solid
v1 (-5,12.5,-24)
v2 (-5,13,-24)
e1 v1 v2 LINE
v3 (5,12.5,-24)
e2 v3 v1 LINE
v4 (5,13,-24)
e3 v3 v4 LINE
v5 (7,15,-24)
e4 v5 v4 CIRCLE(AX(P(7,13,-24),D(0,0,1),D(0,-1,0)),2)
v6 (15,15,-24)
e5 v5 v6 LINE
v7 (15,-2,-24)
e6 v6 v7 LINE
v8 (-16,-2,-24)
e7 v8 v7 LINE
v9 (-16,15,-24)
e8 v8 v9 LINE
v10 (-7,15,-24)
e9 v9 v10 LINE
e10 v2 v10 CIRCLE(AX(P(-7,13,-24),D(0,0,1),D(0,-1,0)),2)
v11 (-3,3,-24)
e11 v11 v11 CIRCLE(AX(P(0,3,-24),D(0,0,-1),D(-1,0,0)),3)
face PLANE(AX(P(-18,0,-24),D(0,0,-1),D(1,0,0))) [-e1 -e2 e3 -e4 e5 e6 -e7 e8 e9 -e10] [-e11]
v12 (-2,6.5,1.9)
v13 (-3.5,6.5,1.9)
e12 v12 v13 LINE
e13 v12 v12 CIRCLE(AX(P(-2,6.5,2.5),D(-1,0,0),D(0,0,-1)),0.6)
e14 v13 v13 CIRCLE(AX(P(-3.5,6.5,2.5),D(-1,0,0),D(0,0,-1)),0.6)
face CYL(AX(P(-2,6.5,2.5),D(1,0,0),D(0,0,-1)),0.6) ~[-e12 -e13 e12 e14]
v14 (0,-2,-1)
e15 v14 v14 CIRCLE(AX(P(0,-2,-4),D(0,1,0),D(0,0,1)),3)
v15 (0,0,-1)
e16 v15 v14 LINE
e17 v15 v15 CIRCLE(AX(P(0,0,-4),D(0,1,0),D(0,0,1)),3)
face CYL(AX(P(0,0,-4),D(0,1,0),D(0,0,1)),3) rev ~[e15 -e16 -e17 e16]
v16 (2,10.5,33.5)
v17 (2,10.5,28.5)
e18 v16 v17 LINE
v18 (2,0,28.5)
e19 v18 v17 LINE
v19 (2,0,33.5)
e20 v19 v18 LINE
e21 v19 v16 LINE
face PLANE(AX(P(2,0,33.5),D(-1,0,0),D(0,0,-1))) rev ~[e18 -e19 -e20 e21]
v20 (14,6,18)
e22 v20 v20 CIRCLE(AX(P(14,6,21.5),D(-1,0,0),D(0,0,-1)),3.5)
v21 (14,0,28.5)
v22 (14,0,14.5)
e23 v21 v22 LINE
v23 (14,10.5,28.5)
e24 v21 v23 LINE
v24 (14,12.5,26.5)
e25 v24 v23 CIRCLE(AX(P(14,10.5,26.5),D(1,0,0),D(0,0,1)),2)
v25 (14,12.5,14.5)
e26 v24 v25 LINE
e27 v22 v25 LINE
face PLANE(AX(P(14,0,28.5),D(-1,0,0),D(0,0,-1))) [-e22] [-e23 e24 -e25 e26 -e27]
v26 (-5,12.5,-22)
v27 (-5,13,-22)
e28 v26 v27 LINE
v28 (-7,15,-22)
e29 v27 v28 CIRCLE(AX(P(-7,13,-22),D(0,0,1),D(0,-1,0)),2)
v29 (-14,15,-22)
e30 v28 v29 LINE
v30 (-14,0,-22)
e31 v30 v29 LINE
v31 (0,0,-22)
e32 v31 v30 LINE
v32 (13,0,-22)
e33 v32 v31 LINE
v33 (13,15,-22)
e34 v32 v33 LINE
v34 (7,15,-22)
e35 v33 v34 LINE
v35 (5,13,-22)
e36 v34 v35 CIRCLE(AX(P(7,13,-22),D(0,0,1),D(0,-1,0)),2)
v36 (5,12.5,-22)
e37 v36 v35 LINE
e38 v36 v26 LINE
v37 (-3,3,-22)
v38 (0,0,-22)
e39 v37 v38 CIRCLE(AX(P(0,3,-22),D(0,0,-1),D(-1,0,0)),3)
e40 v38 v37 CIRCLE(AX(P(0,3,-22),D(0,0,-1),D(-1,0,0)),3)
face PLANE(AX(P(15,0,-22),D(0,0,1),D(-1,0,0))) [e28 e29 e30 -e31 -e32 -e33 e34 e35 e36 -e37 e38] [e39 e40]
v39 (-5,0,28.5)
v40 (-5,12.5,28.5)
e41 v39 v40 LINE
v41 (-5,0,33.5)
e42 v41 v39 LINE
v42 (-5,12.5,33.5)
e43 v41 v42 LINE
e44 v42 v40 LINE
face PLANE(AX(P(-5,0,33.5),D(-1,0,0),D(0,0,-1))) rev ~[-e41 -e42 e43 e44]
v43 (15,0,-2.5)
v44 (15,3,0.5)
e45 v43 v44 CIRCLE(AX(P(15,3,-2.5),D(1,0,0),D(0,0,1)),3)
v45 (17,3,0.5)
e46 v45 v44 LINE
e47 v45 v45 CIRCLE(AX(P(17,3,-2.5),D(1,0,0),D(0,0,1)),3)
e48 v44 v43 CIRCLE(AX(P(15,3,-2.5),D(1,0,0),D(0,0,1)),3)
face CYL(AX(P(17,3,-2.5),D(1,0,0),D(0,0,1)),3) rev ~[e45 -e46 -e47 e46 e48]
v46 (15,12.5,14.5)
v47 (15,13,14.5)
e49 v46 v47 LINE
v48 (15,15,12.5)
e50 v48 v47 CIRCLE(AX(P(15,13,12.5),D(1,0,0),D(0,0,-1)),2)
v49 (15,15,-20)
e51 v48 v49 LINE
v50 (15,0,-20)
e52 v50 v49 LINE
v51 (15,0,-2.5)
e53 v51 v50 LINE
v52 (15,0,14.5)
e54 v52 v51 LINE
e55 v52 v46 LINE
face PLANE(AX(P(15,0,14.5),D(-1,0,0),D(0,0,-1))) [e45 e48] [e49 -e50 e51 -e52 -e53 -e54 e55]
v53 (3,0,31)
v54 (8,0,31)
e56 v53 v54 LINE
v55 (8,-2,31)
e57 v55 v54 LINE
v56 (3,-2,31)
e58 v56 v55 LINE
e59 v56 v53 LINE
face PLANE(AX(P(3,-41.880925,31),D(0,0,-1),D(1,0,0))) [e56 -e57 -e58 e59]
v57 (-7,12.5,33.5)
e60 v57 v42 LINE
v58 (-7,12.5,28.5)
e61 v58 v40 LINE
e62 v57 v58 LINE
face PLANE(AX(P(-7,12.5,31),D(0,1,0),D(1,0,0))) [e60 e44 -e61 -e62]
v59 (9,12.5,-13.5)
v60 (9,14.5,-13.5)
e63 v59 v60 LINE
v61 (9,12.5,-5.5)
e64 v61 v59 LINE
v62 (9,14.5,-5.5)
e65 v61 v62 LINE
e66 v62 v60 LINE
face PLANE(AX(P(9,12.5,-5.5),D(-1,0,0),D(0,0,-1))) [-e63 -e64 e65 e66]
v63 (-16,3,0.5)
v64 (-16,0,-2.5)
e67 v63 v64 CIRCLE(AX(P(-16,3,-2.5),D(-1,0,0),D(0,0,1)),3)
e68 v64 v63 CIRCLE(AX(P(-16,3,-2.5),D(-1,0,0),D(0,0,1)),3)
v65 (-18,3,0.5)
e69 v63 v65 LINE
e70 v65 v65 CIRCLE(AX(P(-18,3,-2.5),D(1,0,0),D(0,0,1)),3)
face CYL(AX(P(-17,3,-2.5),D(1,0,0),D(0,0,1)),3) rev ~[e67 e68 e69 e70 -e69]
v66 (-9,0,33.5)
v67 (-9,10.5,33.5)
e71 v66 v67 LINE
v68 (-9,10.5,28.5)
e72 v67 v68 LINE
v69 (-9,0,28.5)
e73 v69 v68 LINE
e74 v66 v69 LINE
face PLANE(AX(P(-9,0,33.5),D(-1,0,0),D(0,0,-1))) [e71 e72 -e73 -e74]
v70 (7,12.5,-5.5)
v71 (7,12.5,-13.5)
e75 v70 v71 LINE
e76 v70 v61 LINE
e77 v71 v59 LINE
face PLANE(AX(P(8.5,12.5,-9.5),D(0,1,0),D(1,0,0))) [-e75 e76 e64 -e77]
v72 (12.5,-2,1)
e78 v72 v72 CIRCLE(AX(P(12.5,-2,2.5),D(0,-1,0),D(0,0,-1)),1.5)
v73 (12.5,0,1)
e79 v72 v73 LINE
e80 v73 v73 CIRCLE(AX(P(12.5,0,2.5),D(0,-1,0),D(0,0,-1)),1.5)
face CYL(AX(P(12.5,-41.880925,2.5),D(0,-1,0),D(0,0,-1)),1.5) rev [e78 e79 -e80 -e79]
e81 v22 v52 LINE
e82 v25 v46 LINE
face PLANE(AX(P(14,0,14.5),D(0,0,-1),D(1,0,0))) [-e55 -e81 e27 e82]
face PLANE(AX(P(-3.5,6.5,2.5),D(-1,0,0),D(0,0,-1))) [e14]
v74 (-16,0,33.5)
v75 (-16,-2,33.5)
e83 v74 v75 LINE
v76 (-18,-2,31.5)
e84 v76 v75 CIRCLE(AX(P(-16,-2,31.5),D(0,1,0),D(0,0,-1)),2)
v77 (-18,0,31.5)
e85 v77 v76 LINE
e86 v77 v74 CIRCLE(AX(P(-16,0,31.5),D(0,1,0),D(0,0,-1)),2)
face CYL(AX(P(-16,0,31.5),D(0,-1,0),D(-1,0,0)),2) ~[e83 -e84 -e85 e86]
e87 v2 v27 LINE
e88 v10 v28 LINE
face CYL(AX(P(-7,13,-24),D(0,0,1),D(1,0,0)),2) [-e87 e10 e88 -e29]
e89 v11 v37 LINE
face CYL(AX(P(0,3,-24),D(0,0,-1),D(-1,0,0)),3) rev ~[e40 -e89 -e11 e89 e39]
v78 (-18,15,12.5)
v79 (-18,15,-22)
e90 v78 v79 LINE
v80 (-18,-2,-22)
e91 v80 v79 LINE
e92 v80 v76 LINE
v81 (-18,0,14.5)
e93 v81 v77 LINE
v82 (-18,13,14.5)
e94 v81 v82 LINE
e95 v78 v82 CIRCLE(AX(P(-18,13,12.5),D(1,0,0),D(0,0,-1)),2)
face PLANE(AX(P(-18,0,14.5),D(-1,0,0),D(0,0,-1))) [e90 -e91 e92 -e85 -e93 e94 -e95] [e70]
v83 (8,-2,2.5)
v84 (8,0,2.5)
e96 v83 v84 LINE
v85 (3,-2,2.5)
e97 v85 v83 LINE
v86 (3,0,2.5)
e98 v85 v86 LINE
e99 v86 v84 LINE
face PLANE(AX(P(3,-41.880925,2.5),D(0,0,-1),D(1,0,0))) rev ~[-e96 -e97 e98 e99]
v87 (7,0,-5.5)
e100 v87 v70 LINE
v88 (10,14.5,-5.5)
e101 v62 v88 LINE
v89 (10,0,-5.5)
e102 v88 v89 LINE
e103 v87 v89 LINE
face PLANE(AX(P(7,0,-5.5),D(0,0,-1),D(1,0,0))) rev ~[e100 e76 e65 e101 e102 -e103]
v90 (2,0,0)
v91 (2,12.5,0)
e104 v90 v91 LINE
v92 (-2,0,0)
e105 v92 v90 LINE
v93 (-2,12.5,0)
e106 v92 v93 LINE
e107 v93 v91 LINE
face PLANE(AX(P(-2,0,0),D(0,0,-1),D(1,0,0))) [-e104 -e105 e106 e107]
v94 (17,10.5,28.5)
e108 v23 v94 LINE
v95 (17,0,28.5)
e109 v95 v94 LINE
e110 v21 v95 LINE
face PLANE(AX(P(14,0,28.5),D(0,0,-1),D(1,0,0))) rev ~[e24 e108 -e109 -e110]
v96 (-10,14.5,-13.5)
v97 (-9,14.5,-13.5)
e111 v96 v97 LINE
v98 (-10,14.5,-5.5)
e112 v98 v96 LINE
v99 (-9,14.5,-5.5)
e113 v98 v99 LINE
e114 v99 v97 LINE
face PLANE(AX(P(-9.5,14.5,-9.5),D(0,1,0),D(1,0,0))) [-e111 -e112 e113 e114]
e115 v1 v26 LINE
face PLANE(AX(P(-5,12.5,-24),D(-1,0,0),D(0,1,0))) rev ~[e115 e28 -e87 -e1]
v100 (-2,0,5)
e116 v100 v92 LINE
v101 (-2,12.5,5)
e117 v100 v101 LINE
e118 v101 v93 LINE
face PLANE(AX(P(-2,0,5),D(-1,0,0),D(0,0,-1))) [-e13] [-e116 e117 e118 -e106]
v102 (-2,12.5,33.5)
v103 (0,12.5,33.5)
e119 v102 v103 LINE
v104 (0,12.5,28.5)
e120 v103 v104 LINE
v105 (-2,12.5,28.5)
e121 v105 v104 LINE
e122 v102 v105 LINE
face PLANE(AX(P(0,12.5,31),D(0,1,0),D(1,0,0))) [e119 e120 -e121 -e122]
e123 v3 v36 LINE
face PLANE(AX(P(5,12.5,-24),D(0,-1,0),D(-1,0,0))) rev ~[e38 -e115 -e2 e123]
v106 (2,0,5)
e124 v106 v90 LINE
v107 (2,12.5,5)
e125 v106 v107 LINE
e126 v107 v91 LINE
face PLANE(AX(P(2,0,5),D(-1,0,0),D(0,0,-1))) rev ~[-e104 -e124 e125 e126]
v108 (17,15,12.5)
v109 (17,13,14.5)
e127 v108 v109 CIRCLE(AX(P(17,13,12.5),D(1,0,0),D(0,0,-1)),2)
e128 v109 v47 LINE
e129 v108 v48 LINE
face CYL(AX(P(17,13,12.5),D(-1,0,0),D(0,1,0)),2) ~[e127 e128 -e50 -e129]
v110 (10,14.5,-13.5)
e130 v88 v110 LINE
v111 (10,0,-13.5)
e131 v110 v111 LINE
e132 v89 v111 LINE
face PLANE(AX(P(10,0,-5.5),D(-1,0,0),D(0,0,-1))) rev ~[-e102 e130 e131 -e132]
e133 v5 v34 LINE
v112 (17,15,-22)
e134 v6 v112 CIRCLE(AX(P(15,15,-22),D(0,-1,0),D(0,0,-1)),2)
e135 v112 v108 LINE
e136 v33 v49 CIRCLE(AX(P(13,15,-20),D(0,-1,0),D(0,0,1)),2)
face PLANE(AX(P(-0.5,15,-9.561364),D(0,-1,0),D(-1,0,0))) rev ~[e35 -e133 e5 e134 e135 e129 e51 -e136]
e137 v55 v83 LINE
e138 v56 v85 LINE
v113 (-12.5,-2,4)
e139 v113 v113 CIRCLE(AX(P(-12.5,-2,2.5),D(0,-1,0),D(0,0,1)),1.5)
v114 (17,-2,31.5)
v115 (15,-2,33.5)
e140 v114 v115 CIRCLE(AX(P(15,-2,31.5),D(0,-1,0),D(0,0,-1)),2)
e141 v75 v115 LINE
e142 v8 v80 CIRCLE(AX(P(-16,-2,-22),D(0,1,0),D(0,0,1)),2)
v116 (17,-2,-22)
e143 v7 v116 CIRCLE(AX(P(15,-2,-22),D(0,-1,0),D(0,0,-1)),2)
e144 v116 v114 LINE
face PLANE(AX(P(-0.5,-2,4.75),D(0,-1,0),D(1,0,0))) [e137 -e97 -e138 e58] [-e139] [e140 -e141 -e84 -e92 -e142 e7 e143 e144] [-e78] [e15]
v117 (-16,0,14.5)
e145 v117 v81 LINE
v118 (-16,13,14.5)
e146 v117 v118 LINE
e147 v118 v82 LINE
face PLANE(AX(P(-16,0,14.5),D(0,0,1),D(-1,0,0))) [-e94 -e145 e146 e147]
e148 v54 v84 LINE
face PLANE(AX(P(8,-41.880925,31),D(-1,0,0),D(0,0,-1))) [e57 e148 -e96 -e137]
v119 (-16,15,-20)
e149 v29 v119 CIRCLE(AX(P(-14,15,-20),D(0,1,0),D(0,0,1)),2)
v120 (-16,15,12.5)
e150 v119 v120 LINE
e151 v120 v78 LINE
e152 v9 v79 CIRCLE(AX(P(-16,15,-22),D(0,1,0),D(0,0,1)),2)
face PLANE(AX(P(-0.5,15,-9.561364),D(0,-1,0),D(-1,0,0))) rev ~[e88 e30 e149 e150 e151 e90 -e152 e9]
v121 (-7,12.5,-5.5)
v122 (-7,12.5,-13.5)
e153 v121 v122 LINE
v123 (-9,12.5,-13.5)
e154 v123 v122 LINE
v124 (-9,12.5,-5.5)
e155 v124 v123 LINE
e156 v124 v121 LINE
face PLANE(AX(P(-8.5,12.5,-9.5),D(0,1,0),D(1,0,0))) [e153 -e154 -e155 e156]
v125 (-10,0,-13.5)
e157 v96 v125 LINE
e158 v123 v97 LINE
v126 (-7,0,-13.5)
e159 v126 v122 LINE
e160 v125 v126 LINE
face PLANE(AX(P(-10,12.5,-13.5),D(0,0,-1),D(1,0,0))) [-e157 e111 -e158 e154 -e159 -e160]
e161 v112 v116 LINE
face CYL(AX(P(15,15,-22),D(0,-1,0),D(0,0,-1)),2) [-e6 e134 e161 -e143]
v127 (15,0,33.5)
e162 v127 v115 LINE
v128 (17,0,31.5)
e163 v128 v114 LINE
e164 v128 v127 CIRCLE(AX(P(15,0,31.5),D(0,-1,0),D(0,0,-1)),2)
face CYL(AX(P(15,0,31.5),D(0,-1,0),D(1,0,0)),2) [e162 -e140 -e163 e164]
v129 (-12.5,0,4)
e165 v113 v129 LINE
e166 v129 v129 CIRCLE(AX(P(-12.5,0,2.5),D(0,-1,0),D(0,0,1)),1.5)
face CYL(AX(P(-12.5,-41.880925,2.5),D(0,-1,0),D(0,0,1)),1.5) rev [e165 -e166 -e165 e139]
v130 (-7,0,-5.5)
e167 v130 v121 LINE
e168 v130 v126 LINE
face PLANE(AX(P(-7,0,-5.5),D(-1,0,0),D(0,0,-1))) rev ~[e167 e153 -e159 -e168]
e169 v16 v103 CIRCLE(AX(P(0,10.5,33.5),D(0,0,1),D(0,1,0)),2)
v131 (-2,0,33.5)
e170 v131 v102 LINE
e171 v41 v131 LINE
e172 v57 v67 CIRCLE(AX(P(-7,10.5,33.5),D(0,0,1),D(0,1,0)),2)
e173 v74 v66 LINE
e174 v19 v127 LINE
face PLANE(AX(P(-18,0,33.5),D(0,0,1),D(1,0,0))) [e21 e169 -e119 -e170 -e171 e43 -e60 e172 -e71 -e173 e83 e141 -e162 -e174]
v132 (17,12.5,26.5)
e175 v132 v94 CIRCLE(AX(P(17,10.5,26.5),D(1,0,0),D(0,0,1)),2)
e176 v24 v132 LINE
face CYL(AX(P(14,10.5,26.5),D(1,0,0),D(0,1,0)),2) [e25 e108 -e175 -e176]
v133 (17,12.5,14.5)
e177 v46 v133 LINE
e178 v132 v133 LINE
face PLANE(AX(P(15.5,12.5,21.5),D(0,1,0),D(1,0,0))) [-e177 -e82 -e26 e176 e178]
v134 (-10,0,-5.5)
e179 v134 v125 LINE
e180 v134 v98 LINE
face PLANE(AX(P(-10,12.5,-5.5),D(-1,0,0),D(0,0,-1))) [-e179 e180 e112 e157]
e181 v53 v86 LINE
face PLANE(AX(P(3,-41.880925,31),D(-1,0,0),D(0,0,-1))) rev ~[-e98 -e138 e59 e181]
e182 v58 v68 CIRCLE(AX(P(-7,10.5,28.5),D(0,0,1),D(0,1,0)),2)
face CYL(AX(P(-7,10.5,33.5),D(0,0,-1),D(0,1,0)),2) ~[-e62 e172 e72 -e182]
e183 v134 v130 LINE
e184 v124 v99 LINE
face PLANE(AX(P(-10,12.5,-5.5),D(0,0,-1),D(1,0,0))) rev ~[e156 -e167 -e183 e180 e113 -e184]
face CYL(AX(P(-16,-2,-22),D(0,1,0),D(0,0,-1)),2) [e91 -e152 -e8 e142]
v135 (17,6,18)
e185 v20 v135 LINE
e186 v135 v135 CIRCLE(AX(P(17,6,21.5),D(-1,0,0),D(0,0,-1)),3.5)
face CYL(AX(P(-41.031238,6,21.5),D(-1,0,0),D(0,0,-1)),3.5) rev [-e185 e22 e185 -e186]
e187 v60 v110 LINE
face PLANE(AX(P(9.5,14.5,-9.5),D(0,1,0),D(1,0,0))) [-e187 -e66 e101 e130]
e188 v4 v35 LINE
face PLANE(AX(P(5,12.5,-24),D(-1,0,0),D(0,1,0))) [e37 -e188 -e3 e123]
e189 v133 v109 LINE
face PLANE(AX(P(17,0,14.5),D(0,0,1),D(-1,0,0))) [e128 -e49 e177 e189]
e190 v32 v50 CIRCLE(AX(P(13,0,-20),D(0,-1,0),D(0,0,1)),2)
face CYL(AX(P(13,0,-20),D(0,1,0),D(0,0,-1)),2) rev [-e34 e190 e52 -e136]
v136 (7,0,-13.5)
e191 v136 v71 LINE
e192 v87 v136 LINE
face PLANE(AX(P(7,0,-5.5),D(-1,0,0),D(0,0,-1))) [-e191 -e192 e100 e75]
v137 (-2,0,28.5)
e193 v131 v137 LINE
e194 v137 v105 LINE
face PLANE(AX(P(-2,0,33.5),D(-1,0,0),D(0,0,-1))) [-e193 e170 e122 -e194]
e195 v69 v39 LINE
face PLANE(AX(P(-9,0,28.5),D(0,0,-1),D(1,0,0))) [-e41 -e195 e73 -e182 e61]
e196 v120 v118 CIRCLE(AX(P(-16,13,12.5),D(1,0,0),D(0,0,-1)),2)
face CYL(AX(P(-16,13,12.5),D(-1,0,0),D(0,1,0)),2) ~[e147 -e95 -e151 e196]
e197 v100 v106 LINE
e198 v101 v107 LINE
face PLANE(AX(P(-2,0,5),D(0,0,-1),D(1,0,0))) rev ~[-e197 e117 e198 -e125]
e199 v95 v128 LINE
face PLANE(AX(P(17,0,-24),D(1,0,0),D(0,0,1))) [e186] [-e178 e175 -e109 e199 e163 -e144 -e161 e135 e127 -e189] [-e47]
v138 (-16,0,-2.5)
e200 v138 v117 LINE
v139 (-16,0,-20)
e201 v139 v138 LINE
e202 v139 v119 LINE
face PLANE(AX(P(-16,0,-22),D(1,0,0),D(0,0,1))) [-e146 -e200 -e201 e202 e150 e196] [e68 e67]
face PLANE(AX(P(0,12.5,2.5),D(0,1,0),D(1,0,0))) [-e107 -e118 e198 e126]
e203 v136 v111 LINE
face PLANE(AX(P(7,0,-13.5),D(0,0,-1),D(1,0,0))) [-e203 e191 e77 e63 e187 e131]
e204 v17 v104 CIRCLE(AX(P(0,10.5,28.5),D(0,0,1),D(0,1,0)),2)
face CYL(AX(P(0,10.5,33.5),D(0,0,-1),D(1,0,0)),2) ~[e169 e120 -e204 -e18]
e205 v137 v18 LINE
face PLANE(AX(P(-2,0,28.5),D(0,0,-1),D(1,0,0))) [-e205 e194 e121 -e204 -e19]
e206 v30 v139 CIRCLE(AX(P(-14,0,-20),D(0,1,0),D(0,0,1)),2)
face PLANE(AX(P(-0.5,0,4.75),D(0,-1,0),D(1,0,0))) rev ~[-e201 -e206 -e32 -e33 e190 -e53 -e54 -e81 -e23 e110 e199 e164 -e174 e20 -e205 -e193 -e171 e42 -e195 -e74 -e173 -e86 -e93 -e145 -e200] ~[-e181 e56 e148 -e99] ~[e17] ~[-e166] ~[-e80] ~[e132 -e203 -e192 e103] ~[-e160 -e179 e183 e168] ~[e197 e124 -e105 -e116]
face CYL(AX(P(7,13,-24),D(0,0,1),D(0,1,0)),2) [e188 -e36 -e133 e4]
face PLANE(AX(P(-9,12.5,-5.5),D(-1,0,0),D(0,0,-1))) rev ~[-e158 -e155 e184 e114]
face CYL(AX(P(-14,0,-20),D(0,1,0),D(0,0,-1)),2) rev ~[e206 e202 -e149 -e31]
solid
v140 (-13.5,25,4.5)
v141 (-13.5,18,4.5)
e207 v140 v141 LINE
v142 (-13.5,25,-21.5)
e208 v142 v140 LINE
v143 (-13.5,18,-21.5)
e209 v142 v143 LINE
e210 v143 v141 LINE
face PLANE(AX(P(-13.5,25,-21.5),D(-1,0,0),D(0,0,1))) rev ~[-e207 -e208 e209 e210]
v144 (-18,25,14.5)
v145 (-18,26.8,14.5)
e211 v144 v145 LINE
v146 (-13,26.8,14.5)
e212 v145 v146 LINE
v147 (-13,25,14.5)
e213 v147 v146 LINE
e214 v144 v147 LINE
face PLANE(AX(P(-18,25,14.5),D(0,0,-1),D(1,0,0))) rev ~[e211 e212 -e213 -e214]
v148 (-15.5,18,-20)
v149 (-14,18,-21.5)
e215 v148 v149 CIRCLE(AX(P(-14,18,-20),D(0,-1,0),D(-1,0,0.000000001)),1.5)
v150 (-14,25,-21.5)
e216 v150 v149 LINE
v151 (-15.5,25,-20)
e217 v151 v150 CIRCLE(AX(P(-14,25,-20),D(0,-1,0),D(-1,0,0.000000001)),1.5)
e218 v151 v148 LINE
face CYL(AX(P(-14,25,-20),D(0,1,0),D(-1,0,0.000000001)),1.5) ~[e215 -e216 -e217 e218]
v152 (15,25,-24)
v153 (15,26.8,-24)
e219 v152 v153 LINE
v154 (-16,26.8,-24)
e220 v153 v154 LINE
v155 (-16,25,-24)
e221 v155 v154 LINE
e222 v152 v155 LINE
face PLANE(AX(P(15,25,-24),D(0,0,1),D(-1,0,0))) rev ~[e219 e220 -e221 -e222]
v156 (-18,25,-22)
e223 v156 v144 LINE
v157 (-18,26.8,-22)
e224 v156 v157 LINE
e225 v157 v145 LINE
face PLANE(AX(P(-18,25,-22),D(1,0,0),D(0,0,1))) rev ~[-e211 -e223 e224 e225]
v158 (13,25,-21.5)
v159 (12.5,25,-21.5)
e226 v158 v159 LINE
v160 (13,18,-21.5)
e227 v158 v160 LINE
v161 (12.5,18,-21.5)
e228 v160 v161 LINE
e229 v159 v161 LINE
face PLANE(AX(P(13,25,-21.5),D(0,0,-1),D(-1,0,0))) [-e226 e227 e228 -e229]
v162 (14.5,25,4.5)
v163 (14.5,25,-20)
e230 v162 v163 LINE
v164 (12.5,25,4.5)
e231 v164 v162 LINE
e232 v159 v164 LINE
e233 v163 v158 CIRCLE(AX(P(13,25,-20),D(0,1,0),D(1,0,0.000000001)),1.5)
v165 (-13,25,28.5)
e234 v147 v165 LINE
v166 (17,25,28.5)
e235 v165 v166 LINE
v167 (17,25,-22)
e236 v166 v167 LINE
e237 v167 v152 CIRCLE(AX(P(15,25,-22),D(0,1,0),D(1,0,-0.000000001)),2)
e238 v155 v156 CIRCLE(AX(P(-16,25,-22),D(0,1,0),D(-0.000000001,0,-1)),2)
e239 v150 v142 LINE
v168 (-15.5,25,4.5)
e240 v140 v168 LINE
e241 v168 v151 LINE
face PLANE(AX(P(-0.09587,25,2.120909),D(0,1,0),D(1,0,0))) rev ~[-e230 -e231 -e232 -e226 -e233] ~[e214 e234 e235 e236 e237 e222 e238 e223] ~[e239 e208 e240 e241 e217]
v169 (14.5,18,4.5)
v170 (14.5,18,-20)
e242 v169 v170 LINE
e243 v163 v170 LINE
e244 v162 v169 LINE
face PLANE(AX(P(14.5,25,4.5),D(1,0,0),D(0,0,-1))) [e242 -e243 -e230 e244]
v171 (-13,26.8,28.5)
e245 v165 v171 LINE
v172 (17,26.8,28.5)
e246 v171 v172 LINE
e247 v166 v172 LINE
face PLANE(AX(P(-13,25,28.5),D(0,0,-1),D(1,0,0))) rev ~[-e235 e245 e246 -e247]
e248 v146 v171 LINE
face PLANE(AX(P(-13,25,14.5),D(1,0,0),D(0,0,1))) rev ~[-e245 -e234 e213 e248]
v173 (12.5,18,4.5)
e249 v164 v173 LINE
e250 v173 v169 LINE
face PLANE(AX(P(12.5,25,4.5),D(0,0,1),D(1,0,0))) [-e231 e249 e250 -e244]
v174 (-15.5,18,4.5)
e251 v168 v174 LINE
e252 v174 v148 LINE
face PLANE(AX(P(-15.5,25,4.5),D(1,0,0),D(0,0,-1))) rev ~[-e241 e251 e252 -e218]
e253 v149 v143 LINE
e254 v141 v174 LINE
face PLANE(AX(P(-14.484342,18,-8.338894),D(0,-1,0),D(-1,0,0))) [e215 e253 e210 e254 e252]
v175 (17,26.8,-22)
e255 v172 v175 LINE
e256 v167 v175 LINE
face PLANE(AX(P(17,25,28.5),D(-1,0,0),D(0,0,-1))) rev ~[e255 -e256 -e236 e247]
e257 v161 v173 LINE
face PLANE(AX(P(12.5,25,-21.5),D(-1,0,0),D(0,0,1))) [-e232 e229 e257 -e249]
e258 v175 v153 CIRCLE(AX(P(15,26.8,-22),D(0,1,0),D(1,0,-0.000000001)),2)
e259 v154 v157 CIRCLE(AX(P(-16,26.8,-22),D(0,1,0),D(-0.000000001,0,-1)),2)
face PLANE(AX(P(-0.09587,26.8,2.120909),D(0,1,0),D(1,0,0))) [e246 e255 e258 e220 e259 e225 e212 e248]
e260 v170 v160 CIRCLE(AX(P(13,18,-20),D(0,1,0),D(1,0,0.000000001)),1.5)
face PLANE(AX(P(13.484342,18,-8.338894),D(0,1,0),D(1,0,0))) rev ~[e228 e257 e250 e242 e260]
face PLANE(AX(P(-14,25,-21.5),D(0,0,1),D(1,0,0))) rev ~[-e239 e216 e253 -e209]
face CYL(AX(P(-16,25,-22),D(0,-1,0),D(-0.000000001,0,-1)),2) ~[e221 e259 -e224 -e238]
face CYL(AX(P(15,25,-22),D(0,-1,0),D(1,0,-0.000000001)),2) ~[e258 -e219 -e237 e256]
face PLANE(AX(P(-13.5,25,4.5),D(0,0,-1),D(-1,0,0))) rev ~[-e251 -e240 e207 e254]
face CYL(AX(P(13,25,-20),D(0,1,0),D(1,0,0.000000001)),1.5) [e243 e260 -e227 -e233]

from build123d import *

# Parameters (mm, degrees)
SKETCH2_W                      = 3
SKETCH2_H                      = 14
BOSS_EXTRUDE2_DEPTH            = 12.5
SKETCH2_W_2                    = 4
SKETCH2_H_2                    = 5
BOSS_EXTRUDE2_2_DEPTH          = 12.5
BOSS_EXTRUDE2_3_DEPTH          = 12.5
BOSS_EXTRUDE2_4_DEPTH          = 12.5
SKETCH3_W                      = 35
SKETCH3_H                      = 57.5
BOSS_EXTRUDE3_DEPTH            = 2
CUT_EXTRUDE1_DEPTH             = 41.031237802
CUT_EXTRUDE1_DEPTH_BACK        = 41.031237802
SKETCH4_R                      = 3.5
SKETCH5_R                      = 0.6
BOSS_EXTRUDE4_DEPTH            = 1.5
SKETCH6_W                      = 3
SKETCH6_H                      = 8
BOSS_EXTRUDE5_DEPTH            = 12.5
SKETCH14_W                     = 1
SKETCH14_H                     = 8
BOSS_EXTRUDE7_DEPTH            = 2
BOSS_EXTRUDE8_DEPTH            = 15
CUT_EXTRUDE3_REACH             = 64.091
SKETCH10_R                     = 3
CUT_EXTRUDE4_DEPTH             = 41.880924647
CUT_EXTRUDE4_DEPTH_BACK        = 41.880924647
SKETCH12_R                     = 1.5
CUT_EXTRUDE5_DEPTH             = 41.880924647
CUT_EXTRUDE5_DEPTH_BACK        = 41.880924647
SKETCH15_W                     = 5
SKETCH15_H                     = 28.5
CUT_EXTRUDE7_REACH             = 64.091
SKETCH17_W                     = 10
SKETCH17_H                     = 5
FILLET1_R                      = 2
CUT_EXTRUDE8_REACH             = 52.717
SKETCH18_R                     = 3
CUT_EXTRUDE8_DIRECTION_2_DEPTH = 51.717354032
CUT_EXTRUDE9_REACH             = 64.091
SKETCH19_R                     = 3
BOSS_EXTRUDE10_DEPTH           = 7
BOSS_EXTRUDE10_2_DEPTH         = 7
BOSS_EXTRUDE9_DEPTH            = 1.8


with BuildPart() as part:
    # Sketch2 → Boss-Extrude2 (new body)
    with BuildSketch(Plane(origin=(0, 0, 0), x_dir=(1, 0, 0), z_dir=(0, 1, 0))):
        with Locations((15.5, -21.5)):
            Rectangle(SKETCH2_W, SKETCH2_H)
    extrude(amount=BOSS_EXTRUDE2_DEPTH)



with BuildPart() as body_2:
    # Sketch2 → Boss-Extrude2 2 (new body)
    with BuildSketch(Plane(origin=(0, 0, 0), x_dir=(1, 0, 0), z_dir=(0, 1, 0))):
        with Locations((0, -31)):
            Rectangle(SKETCH2_W_2, SKETCH2_H_2)
    extrude(amount=BOSS_EXTRUDE2_2_DEPTH)


with BuildPart() as body_3:
    # Sketch2 → Boss-Extrude2 3 (new body)
    with BuildSketch(Plane(origin=(0, 0, 0), x_dir=(1, 0, 0), z_dir=(0, 1, 0))):
        with Locations((0, -2.5)):
            Rectangle(SKETCH2_W_2, SKETCH2_H_2)
    extrude(amount=BOSS_EXTRUDE2_3_DEPTH)


with BuildPart() as body_4:
    # Sketch2 → Boss-Extrude2 4 (new body)
    with BuildSketch(Plane(origin=(0, 0, 0), x_dir=(1, 0, 0), z_dir=(0, 1, 0))):
        with Locations((-7, -31)):
            Rectangle(SKETCH2_W_2, SKETCH2_H_2)
    extrude(amount=BOSS_EXTRUDE2_4_DEPTH)


with BuildPart() as part_1:
    add(part.part)

    add(body_2.part)  # Boss-Extrude3 merges body 2

    add(body_3.part)  # Boss-Extrude3 merges body 3

    add(body_4.part)  # Boss-Extrude3 merges body 4
    # Sketch3 → Boss-Extrude3 (add)
    with BuildSketch(Plane.XZ):
        with Locations((-0.5, 4.75)):
            Rectangle(SKETCH3_W, SKETCH3_H)
    extrude(amount=BOSS_EXTRUDE3_DEPTH)

    # Sketch4 → Cut-Extrude1 (cut, two sides: drawn at the far end of the back side and taken through both)
    with BuildSketch(Plane(origin=(0, 0, 0), x_dir=(0, 0, -1), z_dir=(1, 0, 0)).offset(-CUT_EXTRUDE1_DEPTH_BACK)):
        with Locations((-21.5, 6)):
            Circle(SKETCH4_R)
    extrude(amount=CUT_EXTRUDE1_DEPTH + CUT_EXTRUDE1_DEPTH_BACK, mode=Mode.SUBTRACT)

    # Sketch5 → Boss-Extrude4 (add)
    with BuildSketch(Plane.ZY.offset(2)):
        with Locations(Location((2.5, 6.5, 0), (0, 0, 180))):
            Circle(SKETCH5_R)
    extrude(amount=BOSS_EXTRUDE4_DEPTH)

    # Sketch6 → Boss-Extrude5 (add)
    with BuildSketch(Plane(origin=(0, 0, 0), x_dir=(1, 0, 0), z_dir=(0, 1, 0))):
        with Locations((-8.5, 9.5)):
            Rectangle(SKETCH6_W, SKETCH6_H)
        with Locations((8.5, 9.5)):
            Rectangle(SKETCH6_W, SKETCH6_H)
    extrude(amount=BOSS_EXTRUDE5_DEPTH)

    # Sketch14 → Boss-Extrude7 (add)
    with BuildSketch(Plane(origin=(0, 12.5, 0), x_dir=(1, 0, 0), z_dir=(0, 1, 0))):
        with Locations((-9.5, 9.5)):
            Rectangle(SKETCH14_W, SKETCH14_H)
        with Locations((9.5, 9.5)):
            Rectangle(SKETCH14_W, SKETCH14_H)
    extrude(amount=BOSS_EXTRUDE7_DEPTH)

    # Sketch9 → Boss-Extrude8 (add)
    with BuildSketch(Plane(origin=(0, 0, 0), x_dir=(1, 0, 0), z_dir=(0, 1, 0))):
        Polygon((-18, 24), (17, 24), (17, -14.5), (15, -14.5), (15, 22), (-16, 22), (-16, -14.5), (-18, -14.5), align=None)
    extrude(amount=BOSS_EXTRUDE8_DEPTH)

    # Sketch10 → Cut-Extrude3 (cut, up to next)
    with BuildSketch(Plane(origin=(0, 0, -24), x_dir=(-1, 0, 0), z_dir=(0, 1, 0)), mode=Mode.PRIVATE) as cut_extrude3_sk1:
        with Locations(Location((0, 20, 0), (0, 0, 90))):
            Circle(SKETCH10_R)
    cut_extrude3_tool1 = extrude(cut_extrude3_sk1.sketch, amount=-CUT_EXTRUDE3_REACH, mode=Mode.PRIVATE) & part_1.part
    add(cut_extrude3_tool1.solids().sort_by_distance((0, 0, -4))[0], mode=Mode.SUBTRACT)

    # Sketch12 → Cut-Extrude4 (cut, two sides: drawn at the far end of the back side and taken through both)
    with BuildSketch(Plane(origin=(0, 0, 0), x_dir=(1, 0, 0), z_dir=(0, 1, 0)).offset(-CUT_EXTRUDE4_DEPTH_BACK)):
        with Locations(Location((-12.5, -2.5, 0), (0, 0, 270))):
            Circle(SKETCH12_R)
        with Locations(Location((12.5, -2.5, 0), (0, 0, 90))):
            Circle(SKETCH12_R)
    extrude(amount=CUT_EXTRUDE4_DEPTH + CUT_EXTRUDE4_DEPTH_BACK, mode=Mode.SUBTRACT)

    # Sketch15 → Cut-Extrude5 (cut, two sides: drawn at the far end of the back side and taken through both)
    with BuildSketch(Plane(origin=(0, 0, 0), x_dir=(1, 0, 0), z_dir=(0, 1, 0)).offset(-CUT_EXTRUDE5_DEPTH_BACK)):
        with Locations((5.5, -16.75)):
            Rectangle(SKETCH15_W, SKETCH15_H)
    extrude(amount=CUT_EXTRUDE5_DEPTH + CUT_EXTRUDE5_DEPTH_BACK, mode=Mode.SUBTRACT)

    # Sketch17 → Cut-Extrude7 (cut, up to next)
    with BuildSketch(Plane(origin=(0, 0, -24), x_dir=(-1, 0, 0), z_dir=(0, 0, -1)), mode=Mode.PRIVATE) as cut_extrude7_sk1:
        with Locations((0, 15)):
            Rectangle(SKETCH17_W, SKETCH17_H)
    cut_extrude7_tool1 = extrude(cut_extrude7_sk1.sketch, amount=-CUT_EXTRUDE7_REACH, mode=Mode.PRIVATE) & part_1.part
    add(cut_extrude7_tool1.solids().sort_by_distance((0, 15, -24))[0], mode=Mode.SUBTRACT)

    # Fillet1
    fillet1_edges = [part_1.edges().sort_by_distance(p)[0] for p in [
        (15.5, 12.5, 28.5),
        (16, 15, 14.5),
        (5, 15, -23),
        (-5, 15, -23),
        (-17, 15, 14.5),
        (-18, -1, 33.5),
        (-18, 6.5, -24),
        (17, 6.5, -24),
        (15, 7.5, -22),
        (-16, 7.5, -22),
        (2, 12.5, 31),
        (-9, 12.5, 31),
        (17, -1, 33.5),
    ]]
    fillet(fillet1_edges, radius=FILLET1_R)

    # Sketch18 → Cut-Extrude8 (cut, up to next)
    with BuildSketch(Plane(origin=(17, 0, 0), x_dir=(0, 0, -1), z_dir=(1, 0, 0)), mode=Mode.PRIVATE) as cut_extrude8_sk1:
        with Locations(Location((2.5, 3, 0), (0, 0, 180))):
            Circle(SKETCH18_R)
    cut_extrude8_tool1 = extrude(cut_extrude8_sk1.sketch, amount=-CUT_EXTRUDE8_REACH, mode=Mode.PRIVATE) & part_1.part
    cut_extrude8 = cut_extrude8_tool1.solids().sort_by_distance((17, 3, -2.5))[0]
    add(cut_extrude8, mode=Mode.SUBTRACT)

    # Sketch18 → Cut-Extrude8 direction 2 (cut)
    with BuildSketch(Plane(origin=(17, 0, 0), x_dir=(0, 0, -1), z_dir=(1, 0, 0))):
        with Locations(Location((2.5, 3, 0), (0, 0, 180))):
            Circle(SKETCH18_R)
    cut_extrude8_direction_2 = extrude(amount=CUT_EXTRUDE8_DIRECTION_2_DEPTH, mode=Mode.SUBTRACT)

    # Mirror1: Cut-Extrude8, Cut-Extrude8 direction 2 across plane
    add(cut_extrude8.mirror(Plane(origin=(0, 0, 0), x_dir=(0, 0, 1), z_dir=(1, 0, 0))), mode=Mode.SUBTRACT)
    add(cut_extrude8_direction_2.mirror(Plane(origin=(0, 0, 0), x_dir=(0, 0, 1), z_dir=(1, 0, 0))), mode=Mode.SUBTRACT)

    # Sketch19 → Cut-Extrude9 (cut, up to next)
    with BuildSketch(Plane(origin=(0, 0, -24), x_dir=(-1, 0, 0), z_dir=(0, 0, -1)), mode=Mode.PRIVATE) as cut_extrude9_sk1:
        with Locations((0, 3)):
            Circle(SKETCH19_R)
    cut_extrude9_tool1 = extrude(cut_extrude9_sk1.sketch, amount=-CUT_EXTRUDE9_REACH, mode=Mode.PRIVATE) & part_1.part
    add(cut_extrude9_tool1.solids().sort_by_distance((0, 3, -24))[0], mode=Mode.SUBTRACT)


with BuildPart() as body_2_2:
    # Sketch22 → Boss-Extrude10 (new body)
    with BuildSketch(Plane(origin=(0, 25, 0), x_dir=(1, 0, 0), z_dir=(0, 1, 0))):
        with BuildLine():
            Line((-14, 21.5), (-13.5, 21.5))
            Line((-13.5, 21.5), (-13.5, -4.5))
            Line((-13.5, -4.5), (-15.5, -4.5))
            Line((-15.5, -4.5), (-15.5, 20))
            ThreePointArc((-15.5, 20), (-15.060660172, 21.060660172), (-14, 21.5))
        make_face()
    extrude(amount=-BOSS_EXTRUDE10_DEPTH)



with BuildPart() as body_3_2:
    # Sketch22 → Boss-Extrude10 2 (new body)
    with BuildSketch(Plane(origin=(0, 25, 0), x_dir=(1, 0, 0), z_dir=(0, 1, 0))):
        with BuildLine():
            Line((12.5, -4.5), (14.5, -4.5))
            Line((14.5, -4.5), (14.5, 20))
            ThreePointArc((14.5, 20), (14.060660172, 21.060660172), (13, 21.5))
            Line((13, 21.5), (12.5, 21.5))
            Line((12.5, 21.5), (12.5, -4.5))
        make_face()
    extrude(amount=-BOSS_EXTRUDE10_2_DEPTH)


with BuildPart() as body_2_2_1:
    add(body_2_2.part)

    add(body_3_2.part)  # Boss-Extrude9 merges body 3 2
    # Sketch21 → Boss-Extrude9 (add)
    with BuildSketch(Plane(origin=(0, 25, 0), x_dir=(1, 0, 0), z_dir=(0, 1, 0))):
        with BuildLine():
            Line((-18, -12.5), (-18, -14.5))
            Line((-18, -14.5), (-13, -14.5))
            Line((-13, -14.5), (-13, -28.5))
            Line((-13, -28.5), (17, -28.5))
            Line((17, -28.5), (17, -12.5))
            Line((17, -12.5), (17, 22))
            ThreePointArc((17, 22), (16.414213562, 23.414213562), (15, 24))
            Line((15, 24), (7, 24))
            Line((7, 24), (5, 24))
            Line((5, 24), (-5, 24))
            Line((-5, 24), (-7, 24))
            Line((-7, 24), (-16, 24))
            ThreePointArc((-16, 24), (-17.414213562, 23.414213562), (-18, 22))
            Line((-18, 22), (-18, -12.5))
        make_face()
    extrude(amount=BOSS_EXTRUDE9_DEPTH)


solid = Compound([part_1.part, body_2_2_1.part])
